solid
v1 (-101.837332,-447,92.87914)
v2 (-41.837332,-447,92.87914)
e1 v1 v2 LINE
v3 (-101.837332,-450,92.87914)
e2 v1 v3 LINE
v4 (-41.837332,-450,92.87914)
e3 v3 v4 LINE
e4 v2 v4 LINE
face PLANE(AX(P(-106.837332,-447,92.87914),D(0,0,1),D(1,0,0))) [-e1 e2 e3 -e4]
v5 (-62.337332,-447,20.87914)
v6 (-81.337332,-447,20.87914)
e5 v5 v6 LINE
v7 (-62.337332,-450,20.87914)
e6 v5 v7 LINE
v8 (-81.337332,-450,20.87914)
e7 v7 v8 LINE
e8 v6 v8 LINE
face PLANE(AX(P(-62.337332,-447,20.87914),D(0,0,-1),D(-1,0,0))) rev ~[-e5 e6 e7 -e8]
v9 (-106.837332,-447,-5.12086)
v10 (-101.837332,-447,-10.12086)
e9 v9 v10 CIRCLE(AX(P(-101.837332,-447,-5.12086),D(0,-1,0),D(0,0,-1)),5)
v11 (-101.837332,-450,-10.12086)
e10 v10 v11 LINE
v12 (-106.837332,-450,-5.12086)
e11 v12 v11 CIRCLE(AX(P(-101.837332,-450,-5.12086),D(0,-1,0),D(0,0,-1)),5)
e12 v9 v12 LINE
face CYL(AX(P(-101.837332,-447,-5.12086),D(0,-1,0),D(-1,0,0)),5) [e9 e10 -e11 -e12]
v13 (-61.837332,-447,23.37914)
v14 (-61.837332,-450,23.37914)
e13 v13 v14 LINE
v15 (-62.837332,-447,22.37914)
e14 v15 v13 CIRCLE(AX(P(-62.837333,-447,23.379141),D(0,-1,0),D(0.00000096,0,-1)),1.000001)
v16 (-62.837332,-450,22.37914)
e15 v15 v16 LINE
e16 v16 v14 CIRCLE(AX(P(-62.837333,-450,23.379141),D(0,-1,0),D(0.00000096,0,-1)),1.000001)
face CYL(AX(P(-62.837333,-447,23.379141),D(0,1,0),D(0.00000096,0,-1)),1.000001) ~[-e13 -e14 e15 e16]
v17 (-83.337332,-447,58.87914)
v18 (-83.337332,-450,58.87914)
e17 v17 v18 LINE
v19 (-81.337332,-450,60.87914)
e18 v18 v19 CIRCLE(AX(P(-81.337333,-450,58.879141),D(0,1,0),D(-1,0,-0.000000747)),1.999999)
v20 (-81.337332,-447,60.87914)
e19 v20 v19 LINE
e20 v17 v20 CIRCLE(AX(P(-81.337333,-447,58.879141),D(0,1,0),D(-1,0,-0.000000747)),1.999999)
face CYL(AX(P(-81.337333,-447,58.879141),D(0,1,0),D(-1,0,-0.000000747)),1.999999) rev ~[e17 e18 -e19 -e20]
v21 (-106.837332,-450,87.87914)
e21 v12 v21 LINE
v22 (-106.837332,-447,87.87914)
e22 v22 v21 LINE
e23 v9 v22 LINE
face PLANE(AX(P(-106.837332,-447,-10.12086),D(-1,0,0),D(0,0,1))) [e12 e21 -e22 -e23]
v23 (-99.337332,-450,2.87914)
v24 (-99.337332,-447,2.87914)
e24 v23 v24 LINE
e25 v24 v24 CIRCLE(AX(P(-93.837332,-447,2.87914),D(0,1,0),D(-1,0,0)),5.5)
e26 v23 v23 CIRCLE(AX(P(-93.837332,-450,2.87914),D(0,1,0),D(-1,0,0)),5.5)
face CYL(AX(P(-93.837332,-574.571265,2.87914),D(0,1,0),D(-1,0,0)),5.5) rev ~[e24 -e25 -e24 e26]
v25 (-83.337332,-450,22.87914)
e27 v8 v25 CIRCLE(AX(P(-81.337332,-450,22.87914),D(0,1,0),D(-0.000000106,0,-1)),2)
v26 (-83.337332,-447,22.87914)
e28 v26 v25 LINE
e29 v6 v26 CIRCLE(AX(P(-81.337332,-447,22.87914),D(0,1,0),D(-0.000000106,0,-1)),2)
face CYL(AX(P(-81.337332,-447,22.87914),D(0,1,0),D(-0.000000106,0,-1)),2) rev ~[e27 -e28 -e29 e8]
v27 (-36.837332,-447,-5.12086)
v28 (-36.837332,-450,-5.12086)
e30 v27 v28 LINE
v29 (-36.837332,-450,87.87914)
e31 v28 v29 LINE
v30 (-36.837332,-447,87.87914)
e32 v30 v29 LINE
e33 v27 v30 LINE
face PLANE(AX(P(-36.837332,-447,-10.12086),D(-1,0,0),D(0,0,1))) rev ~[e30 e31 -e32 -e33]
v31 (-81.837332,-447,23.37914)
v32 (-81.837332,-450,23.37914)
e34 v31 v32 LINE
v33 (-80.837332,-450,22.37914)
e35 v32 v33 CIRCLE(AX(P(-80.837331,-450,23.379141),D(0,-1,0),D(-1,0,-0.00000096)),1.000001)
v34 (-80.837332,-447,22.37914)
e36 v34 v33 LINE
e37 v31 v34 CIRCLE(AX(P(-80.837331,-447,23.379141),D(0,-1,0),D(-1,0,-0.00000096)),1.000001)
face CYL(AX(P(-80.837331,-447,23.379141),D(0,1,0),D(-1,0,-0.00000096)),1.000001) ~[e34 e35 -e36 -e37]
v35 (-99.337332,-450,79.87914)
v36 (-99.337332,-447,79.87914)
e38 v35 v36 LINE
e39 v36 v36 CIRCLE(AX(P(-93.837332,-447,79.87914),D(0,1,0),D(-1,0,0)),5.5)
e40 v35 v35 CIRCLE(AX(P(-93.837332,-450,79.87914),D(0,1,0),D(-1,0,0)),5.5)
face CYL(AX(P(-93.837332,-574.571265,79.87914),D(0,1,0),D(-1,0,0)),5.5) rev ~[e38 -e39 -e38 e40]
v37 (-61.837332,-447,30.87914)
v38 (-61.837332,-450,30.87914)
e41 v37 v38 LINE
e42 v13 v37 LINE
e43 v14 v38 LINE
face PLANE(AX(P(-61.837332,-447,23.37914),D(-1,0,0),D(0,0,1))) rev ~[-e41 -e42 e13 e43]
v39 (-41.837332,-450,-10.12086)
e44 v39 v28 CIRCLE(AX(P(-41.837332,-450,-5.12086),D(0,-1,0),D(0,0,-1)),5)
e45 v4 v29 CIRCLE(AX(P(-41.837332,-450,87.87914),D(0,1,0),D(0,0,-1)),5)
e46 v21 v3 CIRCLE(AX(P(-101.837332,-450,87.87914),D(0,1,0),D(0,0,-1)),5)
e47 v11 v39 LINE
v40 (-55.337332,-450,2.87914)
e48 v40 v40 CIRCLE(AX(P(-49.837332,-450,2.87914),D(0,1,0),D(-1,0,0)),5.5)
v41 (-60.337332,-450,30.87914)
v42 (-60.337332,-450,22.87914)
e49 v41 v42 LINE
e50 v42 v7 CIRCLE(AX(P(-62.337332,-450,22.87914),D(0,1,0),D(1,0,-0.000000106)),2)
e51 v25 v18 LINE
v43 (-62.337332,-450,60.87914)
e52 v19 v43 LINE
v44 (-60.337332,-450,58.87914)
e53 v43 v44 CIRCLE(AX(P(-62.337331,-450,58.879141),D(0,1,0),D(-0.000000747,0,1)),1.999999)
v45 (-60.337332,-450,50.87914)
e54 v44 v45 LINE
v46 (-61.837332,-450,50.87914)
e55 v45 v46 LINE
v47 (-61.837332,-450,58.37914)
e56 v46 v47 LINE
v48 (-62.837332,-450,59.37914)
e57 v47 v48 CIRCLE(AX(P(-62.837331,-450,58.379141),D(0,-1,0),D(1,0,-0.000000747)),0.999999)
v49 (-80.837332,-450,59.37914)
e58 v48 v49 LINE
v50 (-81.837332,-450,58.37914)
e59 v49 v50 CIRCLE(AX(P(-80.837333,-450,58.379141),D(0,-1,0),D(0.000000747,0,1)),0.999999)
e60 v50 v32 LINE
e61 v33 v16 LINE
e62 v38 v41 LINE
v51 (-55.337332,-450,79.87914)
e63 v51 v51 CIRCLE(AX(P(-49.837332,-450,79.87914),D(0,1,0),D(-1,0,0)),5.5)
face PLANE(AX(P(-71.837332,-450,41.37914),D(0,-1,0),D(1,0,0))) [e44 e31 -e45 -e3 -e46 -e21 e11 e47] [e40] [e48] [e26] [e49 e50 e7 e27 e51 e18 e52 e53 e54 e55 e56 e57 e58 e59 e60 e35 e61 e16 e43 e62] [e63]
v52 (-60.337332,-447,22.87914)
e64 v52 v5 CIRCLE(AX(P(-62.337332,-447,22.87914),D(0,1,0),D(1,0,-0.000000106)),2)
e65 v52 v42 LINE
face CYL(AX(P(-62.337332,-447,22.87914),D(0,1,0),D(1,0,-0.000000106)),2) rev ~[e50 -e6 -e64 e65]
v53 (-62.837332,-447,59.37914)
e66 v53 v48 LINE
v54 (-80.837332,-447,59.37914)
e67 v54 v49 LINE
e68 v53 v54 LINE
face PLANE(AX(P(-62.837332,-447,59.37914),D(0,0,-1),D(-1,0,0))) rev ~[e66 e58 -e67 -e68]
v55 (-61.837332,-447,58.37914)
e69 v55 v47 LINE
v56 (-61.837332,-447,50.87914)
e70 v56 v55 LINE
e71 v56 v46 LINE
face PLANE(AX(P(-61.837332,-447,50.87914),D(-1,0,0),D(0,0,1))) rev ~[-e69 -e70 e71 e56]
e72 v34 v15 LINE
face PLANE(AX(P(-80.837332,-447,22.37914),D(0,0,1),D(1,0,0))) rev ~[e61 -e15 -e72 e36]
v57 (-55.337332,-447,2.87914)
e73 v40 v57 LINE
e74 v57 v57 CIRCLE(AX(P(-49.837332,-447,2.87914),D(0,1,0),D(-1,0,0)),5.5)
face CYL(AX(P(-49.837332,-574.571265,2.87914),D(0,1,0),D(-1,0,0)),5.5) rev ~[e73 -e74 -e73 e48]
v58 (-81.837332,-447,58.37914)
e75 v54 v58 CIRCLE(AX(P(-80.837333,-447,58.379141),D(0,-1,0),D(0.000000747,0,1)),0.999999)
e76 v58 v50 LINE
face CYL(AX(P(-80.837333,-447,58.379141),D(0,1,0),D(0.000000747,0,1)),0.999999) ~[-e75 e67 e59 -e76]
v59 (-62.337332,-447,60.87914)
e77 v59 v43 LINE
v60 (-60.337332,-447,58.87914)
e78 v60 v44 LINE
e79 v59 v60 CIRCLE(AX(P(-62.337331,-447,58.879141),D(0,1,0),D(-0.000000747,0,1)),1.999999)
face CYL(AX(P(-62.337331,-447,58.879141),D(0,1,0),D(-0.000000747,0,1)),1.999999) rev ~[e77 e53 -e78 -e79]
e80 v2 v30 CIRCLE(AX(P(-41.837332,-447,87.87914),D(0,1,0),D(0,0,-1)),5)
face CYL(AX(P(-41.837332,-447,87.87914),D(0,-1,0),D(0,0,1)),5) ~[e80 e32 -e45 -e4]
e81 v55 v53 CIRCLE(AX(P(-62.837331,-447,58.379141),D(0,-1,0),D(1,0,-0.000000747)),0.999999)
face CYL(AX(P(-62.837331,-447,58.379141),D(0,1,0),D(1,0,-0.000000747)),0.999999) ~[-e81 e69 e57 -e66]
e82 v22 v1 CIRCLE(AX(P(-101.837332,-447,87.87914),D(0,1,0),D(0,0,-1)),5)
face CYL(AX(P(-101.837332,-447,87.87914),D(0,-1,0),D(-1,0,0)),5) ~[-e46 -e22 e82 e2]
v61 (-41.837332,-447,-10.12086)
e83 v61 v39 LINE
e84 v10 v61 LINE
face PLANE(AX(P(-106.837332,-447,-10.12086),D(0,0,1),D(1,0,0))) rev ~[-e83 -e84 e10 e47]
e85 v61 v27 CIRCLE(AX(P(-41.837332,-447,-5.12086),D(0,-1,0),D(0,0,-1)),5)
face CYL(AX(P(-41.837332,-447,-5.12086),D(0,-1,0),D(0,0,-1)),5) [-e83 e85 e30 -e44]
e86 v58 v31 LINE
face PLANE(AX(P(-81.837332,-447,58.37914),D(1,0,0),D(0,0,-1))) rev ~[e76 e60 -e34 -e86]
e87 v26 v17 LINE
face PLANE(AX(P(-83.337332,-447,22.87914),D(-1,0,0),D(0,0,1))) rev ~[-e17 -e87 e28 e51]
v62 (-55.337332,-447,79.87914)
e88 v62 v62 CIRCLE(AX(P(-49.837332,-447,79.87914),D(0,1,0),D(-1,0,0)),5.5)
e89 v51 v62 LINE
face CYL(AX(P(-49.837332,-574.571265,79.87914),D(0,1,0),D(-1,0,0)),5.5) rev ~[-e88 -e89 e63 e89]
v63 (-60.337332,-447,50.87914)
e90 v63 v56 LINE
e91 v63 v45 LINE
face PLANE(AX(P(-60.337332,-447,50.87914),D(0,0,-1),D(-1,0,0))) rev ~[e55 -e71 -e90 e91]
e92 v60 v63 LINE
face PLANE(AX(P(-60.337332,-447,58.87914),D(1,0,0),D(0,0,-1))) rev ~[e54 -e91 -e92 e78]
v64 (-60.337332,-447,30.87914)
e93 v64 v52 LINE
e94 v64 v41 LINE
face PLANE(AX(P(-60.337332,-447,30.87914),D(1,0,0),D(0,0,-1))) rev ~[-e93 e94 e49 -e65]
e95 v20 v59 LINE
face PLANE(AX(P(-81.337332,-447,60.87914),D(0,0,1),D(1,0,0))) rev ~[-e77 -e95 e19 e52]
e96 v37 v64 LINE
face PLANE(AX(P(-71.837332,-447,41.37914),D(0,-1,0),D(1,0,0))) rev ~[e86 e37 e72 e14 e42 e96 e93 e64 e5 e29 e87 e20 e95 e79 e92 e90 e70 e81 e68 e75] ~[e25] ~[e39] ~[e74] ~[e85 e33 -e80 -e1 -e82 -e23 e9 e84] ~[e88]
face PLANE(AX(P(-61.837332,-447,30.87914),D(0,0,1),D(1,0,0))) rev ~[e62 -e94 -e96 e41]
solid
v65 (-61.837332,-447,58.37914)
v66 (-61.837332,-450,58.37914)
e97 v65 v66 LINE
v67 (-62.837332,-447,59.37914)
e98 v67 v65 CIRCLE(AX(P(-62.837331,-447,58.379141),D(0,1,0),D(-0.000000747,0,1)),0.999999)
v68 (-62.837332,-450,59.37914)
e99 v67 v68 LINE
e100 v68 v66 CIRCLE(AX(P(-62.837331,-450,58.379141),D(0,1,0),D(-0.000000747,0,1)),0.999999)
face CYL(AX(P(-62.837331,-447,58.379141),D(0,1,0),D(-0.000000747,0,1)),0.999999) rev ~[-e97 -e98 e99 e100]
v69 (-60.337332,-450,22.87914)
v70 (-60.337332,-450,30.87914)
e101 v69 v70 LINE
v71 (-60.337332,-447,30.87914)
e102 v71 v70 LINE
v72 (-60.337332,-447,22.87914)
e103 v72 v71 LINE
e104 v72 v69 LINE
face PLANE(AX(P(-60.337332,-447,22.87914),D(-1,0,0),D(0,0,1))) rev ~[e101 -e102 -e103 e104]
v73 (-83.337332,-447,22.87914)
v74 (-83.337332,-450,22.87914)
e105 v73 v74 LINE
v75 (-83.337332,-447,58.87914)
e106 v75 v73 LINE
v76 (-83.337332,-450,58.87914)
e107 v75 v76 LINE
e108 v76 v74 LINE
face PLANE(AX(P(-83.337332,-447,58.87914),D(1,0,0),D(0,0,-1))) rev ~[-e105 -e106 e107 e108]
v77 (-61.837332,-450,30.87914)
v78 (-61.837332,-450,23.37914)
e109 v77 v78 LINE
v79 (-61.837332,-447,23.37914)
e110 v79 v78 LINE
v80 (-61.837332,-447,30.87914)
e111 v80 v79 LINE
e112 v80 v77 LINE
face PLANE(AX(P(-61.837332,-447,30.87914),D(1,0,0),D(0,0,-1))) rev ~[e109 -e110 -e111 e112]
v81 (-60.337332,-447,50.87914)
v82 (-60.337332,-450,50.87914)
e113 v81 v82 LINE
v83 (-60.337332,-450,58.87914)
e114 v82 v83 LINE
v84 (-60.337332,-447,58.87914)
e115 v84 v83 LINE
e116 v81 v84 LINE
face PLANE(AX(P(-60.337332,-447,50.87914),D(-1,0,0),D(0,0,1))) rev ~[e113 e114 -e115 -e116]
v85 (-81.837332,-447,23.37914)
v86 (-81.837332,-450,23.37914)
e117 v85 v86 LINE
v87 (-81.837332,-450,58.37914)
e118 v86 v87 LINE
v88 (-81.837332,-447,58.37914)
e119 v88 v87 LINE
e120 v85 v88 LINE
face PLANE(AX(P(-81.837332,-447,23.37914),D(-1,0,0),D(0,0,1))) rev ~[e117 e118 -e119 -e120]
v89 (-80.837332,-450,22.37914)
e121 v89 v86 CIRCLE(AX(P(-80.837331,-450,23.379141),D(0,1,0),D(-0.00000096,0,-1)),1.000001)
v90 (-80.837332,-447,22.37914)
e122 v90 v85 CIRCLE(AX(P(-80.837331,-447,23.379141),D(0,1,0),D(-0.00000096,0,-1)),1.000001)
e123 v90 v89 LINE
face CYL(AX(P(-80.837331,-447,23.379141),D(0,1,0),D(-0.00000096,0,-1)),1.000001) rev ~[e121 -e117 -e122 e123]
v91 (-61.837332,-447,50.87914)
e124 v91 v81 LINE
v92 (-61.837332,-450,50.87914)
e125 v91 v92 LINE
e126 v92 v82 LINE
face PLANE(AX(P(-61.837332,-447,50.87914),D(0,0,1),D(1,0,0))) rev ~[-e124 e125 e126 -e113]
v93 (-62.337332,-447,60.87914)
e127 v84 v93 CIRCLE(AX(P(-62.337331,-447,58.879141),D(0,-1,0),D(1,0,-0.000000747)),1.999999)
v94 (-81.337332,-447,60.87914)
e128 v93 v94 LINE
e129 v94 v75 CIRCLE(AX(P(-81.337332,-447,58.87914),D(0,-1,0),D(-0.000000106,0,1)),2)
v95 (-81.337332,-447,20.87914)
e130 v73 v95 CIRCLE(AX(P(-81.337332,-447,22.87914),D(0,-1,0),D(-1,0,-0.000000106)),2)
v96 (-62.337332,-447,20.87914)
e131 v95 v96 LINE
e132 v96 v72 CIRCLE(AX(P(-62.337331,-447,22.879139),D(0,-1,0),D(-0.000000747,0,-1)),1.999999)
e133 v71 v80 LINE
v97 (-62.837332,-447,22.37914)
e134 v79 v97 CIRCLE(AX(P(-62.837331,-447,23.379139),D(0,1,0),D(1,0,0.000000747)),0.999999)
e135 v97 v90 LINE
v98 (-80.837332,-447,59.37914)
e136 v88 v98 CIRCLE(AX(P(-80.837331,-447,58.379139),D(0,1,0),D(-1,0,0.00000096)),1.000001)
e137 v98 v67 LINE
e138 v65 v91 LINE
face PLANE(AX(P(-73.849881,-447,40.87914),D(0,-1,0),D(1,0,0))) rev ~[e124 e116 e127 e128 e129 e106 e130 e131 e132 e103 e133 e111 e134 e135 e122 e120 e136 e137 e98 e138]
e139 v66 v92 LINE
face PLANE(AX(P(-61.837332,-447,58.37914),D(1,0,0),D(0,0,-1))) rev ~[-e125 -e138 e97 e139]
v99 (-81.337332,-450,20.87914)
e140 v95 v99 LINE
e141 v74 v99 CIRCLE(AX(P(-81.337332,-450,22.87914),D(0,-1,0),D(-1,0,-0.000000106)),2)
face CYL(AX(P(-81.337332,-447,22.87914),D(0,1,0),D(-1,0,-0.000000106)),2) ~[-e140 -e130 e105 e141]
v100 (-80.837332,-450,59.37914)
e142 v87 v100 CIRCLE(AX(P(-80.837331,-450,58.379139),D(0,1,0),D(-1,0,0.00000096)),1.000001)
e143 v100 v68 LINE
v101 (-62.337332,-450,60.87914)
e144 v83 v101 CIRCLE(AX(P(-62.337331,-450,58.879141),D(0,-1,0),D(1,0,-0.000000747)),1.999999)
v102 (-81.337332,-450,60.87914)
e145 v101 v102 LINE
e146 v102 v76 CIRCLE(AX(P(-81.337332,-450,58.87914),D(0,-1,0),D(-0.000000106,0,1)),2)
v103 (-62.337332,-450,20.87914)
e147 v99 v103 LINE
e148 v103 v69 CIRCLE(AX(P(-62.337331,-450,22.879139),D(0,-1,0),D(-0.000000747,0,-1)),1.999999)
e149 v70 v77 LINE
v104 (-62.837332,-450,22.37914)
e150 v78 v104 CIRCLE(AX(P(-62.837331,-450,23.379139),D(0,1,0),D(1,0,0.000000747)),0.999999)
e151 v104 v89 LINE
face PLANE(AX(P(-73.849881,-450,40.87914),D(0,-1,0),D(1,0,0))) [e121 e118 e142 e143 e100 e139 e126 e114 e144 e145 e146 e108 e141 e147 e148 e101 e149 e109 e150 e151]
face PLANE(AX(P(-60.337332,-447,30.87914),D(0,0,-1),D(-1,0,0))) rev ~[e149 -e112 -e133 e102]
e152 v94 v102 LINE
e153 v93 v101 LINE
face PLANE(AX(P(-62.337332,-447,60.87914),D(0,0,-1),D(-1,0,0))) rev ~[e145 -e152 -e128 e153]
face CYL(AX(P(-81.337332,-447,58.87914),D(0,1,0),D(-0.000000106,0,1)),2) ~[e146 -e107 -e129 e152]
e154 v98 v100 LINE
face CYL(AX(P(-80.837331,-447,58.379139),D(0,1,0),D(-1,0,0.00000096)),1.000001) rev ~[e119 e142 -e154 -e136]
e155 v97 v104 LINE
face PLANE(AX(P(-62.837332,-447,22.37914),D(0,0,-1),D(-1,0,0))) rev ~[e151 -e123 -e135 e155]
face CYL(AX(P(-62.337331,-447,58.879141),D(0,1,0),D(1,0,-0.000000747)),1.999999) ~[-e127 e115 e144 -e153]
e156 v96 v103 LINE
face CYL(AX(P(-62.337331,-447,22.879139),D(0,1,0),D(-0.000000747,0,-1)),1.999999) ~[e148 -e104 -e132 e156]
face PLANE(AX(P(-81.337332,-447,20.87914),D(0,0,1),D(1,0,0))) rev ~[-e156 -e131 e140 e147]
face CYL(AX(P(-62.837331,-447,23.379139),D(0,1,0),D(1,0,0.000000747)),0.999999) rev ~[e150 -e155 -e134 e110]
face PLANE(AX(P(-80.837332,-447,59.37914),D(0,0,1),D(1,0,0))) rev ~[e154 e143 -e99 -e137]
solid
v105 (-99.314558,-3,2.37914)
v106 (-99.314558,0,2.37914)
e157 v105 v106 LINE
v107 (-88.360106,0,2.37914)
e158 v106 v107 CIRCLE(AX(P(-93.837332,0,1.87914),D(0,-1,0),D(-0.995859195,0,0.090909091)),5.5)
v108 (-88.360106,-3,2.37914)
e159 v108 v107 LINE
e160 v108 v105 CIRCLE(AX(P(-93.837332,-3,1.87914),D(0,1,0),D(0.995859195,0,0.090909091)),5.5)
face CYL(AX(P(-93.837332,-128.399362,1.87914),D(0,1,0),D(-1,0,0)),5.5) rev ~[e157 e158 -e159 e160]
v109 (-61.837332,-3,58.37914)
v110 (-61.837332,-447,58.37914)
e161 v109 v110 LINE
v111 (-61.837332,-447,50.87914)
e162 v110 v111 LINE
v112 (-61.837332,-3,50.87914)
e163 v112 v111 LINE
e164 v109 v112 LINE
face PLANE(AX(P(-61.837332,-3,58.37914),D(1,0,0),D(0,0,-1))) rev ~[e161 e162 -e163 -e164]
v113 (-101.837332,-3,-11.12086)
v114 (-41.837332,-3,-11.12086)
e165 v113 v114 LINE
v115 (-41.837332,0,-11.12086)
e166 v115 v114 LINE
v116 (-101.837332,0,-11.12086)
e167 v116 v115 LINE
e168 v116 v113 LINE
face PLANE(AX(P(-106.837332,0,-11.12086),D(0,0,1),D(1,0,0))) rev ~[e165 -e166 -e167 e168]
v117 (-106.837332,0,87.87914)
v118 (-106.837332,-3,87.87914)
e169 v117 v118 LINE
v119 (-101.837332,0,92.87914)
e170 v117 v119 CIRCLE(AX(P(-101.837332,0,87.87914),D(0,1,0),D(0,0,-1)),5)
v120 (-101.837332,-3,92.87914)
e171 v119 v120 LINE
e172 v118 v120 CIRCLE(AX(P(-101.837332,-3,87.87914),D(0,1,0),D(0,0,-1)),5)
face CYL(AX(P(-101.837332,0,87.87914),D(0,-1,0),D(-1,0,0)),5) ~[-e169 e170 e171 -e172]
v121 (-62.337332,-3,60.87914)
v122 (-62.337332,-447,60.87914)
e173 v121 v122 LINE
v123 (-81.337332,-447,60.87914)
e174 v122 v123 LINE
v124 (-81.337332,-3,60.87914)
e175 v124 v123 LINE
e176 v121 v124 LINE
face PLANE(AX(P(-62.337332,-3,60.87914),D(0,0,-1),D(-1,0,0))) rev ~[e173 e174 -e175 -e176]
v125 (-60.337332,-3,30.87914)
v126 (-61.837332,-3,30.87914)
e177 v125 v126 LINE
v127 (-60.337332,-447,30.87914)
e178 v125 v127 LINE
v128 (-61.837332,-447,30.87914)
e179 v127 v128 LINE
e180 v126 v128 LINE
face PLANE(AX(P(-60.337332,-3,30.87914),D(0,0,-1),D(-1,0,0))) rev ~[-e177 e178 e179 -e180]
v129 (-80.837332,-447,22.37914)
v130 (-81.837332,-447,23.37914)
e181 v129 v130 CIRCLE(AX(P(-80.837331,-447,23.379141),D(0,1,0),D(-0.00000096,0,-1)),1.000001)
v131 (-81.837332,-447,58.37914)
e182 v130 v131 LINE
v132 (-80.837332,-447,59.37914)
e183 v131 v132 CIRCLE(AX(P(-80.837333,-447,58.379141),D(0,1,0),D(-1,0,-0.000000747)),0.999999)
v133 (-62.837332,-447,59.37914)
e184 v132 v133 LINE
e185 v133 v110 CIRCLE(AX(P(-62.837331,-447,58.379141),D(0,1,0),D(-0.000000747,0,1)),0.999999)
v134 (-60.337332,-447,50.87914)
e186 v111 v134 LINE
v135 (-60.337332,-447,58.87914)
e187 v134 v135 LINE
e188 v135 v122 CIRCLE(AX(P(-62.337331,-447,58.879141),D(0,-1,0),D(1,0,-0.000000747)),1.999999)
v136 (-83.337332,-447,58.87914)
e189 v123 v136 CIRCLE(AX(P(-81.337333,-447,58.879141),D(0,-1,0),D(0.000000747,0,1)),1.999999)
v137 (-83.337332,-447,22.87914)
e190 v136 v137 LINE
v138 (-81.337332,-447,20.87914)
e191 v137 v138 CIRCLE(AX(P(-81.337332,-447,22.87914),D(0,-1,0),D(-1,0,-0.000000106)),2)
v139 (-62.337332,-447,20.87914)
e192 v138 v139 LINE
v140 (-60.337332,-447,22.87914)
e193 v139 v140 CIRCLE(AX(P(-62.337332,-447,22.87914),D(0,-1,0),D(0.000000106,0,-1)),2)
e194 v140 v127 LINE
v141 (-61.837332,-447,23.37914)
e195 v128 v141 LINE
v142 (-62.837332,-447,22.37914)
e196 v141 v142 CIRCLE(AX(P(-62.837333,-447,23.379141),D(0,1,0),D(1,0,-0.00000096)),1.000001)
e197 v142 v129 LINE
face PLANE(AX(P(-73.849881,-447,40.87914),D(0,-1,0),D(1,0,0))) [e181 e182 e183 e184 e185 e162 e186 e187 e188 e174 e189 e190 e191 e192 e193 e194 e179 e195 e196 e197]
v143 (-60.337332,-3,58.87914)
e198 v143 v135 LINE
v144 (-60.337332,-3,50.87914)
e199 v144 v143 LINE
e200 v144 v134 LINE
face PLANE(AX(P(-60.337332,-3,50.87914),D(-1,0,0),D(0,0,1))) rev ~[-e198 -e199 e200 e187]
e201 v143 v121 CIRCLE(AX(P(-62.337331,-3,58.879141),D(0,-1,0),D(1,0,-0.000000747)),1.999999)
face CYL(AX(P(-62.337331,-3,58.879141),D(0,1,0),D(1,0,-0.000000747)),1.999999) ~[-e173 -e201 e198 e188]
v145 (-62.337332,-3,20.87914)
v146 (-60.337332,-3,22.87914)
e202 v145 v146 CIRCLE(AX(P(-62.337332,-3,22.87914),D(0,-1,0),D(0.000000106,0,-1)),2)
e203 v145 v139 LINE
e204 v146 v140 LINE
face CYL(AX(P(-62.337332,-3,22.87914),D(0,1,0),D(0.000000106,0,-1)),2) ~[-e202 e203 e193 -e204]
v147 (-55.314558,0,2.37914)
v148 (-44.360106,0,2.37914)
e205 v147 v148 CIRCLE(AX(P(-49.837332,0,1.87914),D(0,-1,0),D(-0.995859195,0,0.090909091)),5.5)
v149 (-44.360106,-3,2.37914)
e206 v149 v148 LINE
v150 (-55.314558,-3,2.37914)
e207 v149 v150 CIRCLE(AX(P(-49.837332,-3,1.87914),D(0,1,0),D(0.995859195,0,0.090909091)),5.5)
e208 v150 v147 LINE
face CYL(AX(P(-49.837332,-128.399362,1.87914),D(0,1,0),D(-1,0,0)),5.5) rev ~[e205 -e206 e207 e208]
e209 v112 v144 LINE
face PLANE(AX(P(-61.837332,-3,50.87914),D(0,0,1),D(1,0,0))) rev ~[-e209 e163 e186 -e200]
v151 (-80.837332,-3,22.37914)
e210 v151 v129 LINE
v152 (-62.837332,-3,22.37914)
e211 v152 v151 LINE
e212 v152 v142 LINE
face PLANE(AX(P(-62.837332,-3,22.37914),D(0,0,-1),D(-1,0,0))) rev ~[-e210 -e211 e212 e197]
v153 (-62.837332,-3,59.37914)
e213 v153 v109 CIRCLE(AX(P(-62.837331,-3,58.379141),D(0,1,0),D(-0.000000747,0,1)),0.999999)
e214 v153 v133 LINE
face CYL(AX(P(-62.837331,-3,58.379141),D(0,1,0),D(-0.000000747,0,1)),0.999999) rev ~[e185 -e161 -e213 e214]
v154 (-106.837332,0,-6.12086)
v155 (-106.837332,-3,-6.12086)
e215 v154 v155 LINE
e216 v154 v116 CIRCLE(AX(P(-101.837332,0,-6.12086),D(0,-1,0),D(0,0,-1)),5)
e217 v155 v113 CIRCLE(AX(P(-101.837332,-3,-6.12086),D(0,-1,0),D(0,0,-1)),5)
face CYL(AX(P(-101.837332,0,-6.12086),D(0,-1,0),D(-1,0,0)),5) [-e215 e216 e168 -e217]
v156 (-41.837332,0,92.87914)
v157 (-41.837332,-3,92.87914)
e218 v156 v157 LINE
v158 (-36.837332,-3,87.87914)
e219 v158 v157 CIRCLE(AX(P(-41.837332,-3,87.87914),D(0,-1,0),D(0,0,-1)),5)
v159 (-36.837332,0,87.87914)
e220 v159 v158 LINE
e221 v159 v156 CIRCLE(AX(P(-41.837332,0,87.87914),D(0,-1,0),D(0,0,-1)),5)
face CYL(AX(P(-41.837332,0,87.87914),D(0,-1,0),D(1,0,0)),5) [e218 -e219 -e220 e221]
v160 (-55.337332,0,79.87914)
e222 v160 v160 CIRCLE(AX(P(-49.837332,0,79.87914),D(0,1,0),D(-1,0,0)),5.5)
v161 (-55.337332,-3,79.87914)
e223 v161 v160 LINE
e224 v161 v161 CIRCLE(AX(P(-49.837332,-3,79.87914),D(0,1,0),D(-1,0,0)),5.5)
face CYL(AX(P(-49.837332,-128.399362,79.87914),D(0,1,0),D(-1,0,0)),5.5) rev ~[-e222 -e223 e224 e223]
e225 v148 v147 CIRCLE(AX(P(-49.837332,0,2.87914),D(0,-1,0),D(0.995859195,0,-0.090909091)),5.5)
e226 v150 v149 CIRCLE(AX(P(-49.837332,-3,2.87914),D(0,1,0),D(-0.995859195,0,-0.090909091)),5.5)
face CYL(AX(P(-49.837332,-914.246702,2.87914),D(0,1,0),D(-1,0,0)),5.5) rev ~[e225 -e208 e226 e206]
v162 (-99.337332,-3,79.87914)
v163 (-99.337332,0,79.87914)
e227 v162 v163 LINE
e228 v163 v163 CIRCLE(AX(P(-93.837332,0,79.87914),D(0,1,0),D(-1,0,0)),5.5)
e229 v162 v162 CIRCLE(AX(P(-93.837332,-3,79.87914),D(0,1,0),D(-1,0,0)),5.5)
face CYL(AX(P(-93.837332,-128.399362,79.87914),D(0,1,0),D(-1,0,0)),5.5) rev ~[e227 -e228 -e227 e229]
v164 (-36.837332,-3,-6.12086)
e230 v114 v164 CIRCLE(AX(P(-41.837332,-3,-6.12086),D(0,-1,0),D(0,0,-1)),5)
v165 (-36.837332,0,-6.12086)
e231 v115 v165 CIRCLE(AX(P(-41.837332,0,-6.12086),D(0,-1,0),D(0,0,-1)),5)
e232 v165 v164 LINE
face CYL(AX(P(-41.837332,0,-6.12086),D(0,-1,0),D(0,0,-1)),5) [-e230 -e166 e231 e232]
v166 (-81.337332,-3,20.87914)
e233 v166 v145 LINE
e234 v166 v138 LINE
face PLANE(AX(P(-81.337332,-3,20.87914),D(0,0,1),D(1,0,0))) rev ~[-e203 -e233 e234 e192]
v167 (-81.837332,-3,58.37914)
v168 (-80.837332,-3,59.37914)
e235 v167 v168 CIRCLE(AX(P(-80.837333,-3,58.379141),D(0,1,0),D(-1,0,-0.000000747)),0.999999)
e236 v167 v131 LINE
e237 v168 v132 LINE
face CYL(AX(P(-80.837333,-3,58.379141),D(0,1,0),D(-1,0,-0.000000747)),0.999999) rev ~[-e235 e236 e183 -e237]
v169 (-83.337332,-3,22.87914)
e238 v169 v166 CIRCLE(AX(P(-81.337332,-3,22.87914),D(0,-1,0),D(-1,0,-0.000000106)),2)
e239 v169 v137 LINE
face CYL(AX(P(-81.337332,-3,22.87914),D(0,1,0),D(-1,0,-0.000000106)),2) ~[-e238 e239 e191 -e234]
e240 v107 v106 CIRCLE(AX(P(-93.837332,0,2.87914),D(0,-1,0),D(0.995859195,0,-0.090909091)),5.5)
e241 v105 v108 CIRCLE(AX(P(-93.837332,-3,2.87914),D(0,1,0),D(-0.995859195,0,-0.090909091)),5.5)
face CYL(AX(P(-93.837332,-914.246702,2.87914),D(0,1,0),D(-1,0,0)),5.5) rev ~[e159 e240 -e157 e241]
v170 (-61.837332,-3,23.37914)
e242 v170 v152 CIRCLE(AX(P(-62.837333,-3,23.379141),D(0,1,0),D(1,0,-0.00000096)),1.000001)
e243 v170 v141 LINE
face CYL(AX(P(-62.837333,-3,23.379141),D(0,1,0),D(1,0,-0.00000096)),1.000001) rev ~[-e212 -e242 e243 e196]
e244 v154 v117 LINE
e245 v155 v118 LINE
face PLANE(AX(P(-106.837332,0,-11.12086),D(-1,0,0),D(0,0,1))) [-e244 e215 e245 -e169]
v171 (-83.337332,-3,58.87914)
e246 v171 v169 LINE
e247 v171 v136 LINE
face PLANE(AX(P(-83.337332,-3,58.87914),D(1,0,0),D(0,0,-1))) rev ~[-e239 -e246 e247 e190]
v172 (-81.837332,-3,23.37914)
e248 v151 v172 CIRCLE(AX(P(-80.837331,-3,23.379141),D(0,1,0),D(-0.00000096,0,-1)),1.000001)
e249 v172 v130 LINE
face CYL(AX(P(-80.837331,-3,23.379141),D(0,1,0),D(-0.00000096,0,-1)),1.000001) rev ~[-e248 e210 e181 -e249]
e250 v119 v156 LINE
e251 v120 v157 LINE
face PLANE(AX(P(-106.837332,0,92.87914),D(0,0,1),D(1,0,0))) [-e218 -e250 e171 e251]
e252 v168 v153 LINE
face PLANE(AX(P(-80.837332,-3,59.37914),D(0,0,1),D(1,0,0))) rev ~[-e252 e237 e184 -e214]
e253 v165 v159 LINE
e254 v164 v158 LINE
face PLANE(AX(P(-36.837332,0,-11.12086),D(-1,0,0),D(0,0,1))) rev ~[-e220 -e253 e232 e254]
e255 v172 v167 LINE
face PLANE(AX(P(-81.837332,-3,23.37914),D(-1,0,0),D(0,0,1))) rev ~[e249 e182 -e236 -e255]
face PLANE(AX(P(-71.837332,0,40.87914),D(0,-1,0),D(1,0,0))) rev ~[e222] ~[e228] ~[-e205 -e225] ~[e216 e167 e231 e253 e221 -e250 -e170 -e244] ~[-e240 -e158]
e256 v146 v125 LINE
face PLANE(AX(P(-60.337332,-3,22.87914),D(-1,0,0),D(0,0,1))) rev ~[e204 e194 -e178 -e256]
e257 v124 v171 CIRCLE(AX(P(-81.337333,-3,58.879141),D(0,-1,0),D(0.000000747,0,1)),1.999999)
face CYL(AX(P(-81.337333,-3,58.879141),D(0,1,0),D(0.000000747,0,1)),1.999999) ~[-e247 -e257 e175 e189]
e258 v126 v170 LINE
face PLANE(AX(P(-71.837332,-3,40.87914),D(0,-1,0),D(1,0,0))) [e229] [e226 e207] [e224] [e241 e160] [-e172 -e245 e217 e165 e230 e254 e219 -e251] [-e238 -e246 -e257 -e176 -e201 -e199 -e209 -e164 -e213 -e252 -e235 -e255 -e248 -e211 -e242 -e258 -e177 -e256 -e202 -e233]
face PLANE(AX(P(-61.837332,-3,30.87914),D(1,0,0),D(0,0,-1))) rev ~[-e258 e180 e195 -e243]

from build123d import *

# Parameters (mm, degrees)
F0_W     = 70
F0_H     = 104
F1_DEPTH = 3
F2_R     = 5
F4_D     = 11
F6_DEPTH = 444
F7_W     = 70
F7_H     = 103
F8_DEPTH = 3
F9_DEPTH = 3
F10_R    = 5
F12_D    = 11
F12_2_D  = 11


with BuildPart() as f1:
    # F0 (on Front) → F1 (new body)
    with BuildSketch(Plane.XZ):
        with Locations((-71.837332, 40.87914)):
            Rectangle(F0_W, F0_H)
    extrude(amount=F1_DEPTH)

    # F2
    f2_edges = [f1.edges().sort_by_distance(p)[0] for p in [
        (-36.837332, -1.5, 92.87914),
        (-106.837332, -1.5, 92.87914),
        (-106.837332, -1.5, -11.12086),
        (-36.837332, -1.5, -11.12086),
    ]]
    fillet(f2_edges, radius=F2_R)

    # F4 (through all)
    with Locations(Plane.XZ.offset(3)):
        with Locations((-49.837332, 1.87914), (-93.837332, 1.87914), (-93.837332, 79.87914), (-49.837332, 79.87914)):
            Hole(F4_D / 2)

    # F5 (on face) → F6 (join)
    with BuildSketch(Plane.XZ.offset(3)):
        with BuildLine():
            ThreePointArc((-60.337332, 58.87914), (-60.923118, 60.293354), (-62.337332, 60.87914))
            Line((-62.337332, 60.87914), (-81.337332, 60.87914))
            ThreePointArc((-81.337332, 60.87914), (-82.751546, 60.293354), (-83.337332, 58.87914))
            Line((-83.337332, 58.87914), (-83.337332, 22.87914))
            ThreePointArc((-83.337332, 22.87914), (-82.751546, 21.464927), (-81.337332, 20.87914))
            Line((-81.337332, 20.87914), (-62.337332, 20.87914))
            ThreePointArc((-62.337332, 20.87914), (-60.923118, 21.464927), (-60.337332, 22.87914))
            Line((-60.337332, 22.87914), (-60.337332, 30.87914))
            Line((-60.337332, 30.87914), (-61.837332, 30.87914))
            Line((-61.837332, 30.87914), (-61.837332, 23.37914))
            ThreePointArc((-61.837332, 23.37914), (-62.130225, 22.672034), (-62.837332, 22.37914))
            Line((-62.837332, 22.37914), (-80.837332, 22.37914))
            ThreePointArc((-80.837332, 22.37914), (-81.544439, 22.672034), (-81.837332, 23.37914))
            Line((-81.837332, 23.37914), (-81.837332, 58.37914))
            ThreePointArc((-81.837332, 58.37914), (-81.544439, 59.086247), (-80.837332, 59.37914))
            Line((-80.837332, 59.37914), (-62.837332, 59.37914))
            ThreePointArc((-62.837332, 59.37914), (-62.130225, 59.086247), (-61.837332, 58.37914))
            Line((-61.837332, 58.37914), (-61.837332, 50.87914))
            Line((-61.837332, 50.87914), (-60.337332, 50.87914))
            Line((-60.337332, 50.87914), (-60.337332, 58.87914))
        make_face()
    extrude(amount=F6_DEPTH)

    # F12 (through all)
    with Locations(Plane.XZ.offset(450)):
        with Locations((-93.837332, 79.87914), (-49.837332, 79.87914), (-49.837332, 2.87914), (-93.837332, 2.87914)):
            Hole(F12_D / 2)


with BuildPart() as f8:
    # F7 (on face) → F8 (new body)
    with BuildSketch(Plane.XZ.offset(447)):
        with Locations((-71.837332, 41.37914)):
            Rectangle(F7_W, F7_H)
        with BuildLine():
            Line((-61.837332, 50.87914), (-61.837332, 58.37914))
            ThreePointArc((-61.837332, 58.37914), (-62.130225, 59.086247), (-62.837332, 59.37914))
            Line((-62.837332, 59.37914), (-80.837332, 59.37914))
            ThreePointArc((-80.837332, 59.37914), (-81.544439, 59.086247), (-81.837332, 58.37914))
            Line((-81.837332, 58.37914), (-81.837332, 23.37914))
            ThreePointArc((-81.837332, 23.37914), (-81.544439, 22.672034), (-80.837332, 22.37914))
            Line((-80.837332, 22.37914), (-62.837332, 22.37914))
            ThreePointArc((-62.837332, 22.37914), (-62.130225, 22.672034), (-61.837332, 23.37914))
            Line((-61.837332, 23.37914), (-61.837332, 30.87914))
            Line((-61.837332, 30.87914), (-60.337332, 30.87914))
            Line((-60.337332, 30.87914), (-60.337332, 22.87914))
            ThreePointArc((-60.337332, 22.87914), (-60.923118, 21.464927), (-62.337332, 20.87914))
            Line((-62.337332, 20.87914), (-81.337332, 20.87914))
            ThreePointArc((-81.337332, 20.87914), (-82.751546, 21.464927), (-83.337332, 22.87914))
            Line((-83.337332, 22.87914), (-83.337332, 58.87914))
            ThreePointArc((-83.337332, 58.87914), (-82.751546, 60.293354), (-81.337332, 60.87914))
            Line((-81.337332, 60.87914), (-62.337332, 60.87914))
            ThreePointArc((-62.337332, 60.87914), (-60.923118, 60.293354), (-60.337332, 58.87914))
            Line((-60.337332, 58.87914), (-60.337332, 50.87914))
            Line((-60.337332, 50.87914), (-61.837332, 50.87914))
        make_face(mode=Mode.SUBTRACT)
    extrude(amount=F8_DEPTH)

    # F10
    f10_edges = [f8.edges().sort_by_distance(p)[0] for p in [
        (-36.837332, -448.5, 92.87914),
        (-106.837332, -448.5, 92.87914),
        (-106.837332, -448.5, -10.12086),
        (-36.837332, -448.5, -10.12086),
    ]]
    fillet(f10_edges, radius=F10_R)

    # F12#2 (through all)
    with Locations(Plane.XZ.offset(450)):
        with Locations((-93.837332, 79.87914), (-49.837332, 79.87914), (-49.837332, 2.87914), (-93.837332, 2.87914)):
            Hole(F12_2_D / 2)


with BuildPart() as f9:
    # F6_face (on face) → F9 (new body)
    with BuildSketch(Plane(origin=(-74.024888, -447, 40.87914), x_dir=(1, 0, 0), z_dir=(0, -1, 0))):
        with BuildLine():
            Line((12.187556, 17.5), (12.187556, 10))
            Line((12.187556, 10), (13.687556, 10))
            Line((13.687556, 10), (13.687556, 18))
            ThreePointArc((13.687556, 18), (13.10177, 19.414214), (11.687556, 20))
            Line((11.687556, 20), (-7.312444, 20))
            ThreePointArc((-7.312444, 20), (-8.726657, 19.414214), (-9.312444, 18))
            Line((-9.312444, 18), (-9.312444, -18))
            ThreePointArc((-9.312444, -18), (-8.726657, -19.414214), (-7.312444, -20))
            Line((-7.312444, -20), (11.687556, -20))
            ThreePointArc((11.687556, -20), (13.10177, -19.414214), (13.687556, -18))
            Line((13.687556, -18), (13.687556, -10))
            Line((13.687556, -10), (12.187556, -10))
            Line((12.187556, -10), (12.187556, -17.5))
            ThreePointArc((12.187556, -17.5), (11.894663, -18.207107), (11.187556, -18.5))
            Line((11.187556, -18.5), (-6.812444, -18.5))
            ThreePointArc((-6.812444, -18.5), (-7.51955, -18.207107), (-7.812444, -17.5))
            Line((-7.812444, -17.5), (-7.812444, 17.5))
            ThreePointArc((-7.812444, 17.5), (-7.51955, 18.207107), (-6.812444, 18.5))
            Line((-6.812444, 18.5), (11.187556, 18.5))
            ThreePointArc((11.187556, 18.5), (11.894663, 18.207107), (12.187556, 17.5))
        make_face()
    extrude(amount=F9_DEPTH)


solid = Compound([f1.part, f8.part, f9.part])
